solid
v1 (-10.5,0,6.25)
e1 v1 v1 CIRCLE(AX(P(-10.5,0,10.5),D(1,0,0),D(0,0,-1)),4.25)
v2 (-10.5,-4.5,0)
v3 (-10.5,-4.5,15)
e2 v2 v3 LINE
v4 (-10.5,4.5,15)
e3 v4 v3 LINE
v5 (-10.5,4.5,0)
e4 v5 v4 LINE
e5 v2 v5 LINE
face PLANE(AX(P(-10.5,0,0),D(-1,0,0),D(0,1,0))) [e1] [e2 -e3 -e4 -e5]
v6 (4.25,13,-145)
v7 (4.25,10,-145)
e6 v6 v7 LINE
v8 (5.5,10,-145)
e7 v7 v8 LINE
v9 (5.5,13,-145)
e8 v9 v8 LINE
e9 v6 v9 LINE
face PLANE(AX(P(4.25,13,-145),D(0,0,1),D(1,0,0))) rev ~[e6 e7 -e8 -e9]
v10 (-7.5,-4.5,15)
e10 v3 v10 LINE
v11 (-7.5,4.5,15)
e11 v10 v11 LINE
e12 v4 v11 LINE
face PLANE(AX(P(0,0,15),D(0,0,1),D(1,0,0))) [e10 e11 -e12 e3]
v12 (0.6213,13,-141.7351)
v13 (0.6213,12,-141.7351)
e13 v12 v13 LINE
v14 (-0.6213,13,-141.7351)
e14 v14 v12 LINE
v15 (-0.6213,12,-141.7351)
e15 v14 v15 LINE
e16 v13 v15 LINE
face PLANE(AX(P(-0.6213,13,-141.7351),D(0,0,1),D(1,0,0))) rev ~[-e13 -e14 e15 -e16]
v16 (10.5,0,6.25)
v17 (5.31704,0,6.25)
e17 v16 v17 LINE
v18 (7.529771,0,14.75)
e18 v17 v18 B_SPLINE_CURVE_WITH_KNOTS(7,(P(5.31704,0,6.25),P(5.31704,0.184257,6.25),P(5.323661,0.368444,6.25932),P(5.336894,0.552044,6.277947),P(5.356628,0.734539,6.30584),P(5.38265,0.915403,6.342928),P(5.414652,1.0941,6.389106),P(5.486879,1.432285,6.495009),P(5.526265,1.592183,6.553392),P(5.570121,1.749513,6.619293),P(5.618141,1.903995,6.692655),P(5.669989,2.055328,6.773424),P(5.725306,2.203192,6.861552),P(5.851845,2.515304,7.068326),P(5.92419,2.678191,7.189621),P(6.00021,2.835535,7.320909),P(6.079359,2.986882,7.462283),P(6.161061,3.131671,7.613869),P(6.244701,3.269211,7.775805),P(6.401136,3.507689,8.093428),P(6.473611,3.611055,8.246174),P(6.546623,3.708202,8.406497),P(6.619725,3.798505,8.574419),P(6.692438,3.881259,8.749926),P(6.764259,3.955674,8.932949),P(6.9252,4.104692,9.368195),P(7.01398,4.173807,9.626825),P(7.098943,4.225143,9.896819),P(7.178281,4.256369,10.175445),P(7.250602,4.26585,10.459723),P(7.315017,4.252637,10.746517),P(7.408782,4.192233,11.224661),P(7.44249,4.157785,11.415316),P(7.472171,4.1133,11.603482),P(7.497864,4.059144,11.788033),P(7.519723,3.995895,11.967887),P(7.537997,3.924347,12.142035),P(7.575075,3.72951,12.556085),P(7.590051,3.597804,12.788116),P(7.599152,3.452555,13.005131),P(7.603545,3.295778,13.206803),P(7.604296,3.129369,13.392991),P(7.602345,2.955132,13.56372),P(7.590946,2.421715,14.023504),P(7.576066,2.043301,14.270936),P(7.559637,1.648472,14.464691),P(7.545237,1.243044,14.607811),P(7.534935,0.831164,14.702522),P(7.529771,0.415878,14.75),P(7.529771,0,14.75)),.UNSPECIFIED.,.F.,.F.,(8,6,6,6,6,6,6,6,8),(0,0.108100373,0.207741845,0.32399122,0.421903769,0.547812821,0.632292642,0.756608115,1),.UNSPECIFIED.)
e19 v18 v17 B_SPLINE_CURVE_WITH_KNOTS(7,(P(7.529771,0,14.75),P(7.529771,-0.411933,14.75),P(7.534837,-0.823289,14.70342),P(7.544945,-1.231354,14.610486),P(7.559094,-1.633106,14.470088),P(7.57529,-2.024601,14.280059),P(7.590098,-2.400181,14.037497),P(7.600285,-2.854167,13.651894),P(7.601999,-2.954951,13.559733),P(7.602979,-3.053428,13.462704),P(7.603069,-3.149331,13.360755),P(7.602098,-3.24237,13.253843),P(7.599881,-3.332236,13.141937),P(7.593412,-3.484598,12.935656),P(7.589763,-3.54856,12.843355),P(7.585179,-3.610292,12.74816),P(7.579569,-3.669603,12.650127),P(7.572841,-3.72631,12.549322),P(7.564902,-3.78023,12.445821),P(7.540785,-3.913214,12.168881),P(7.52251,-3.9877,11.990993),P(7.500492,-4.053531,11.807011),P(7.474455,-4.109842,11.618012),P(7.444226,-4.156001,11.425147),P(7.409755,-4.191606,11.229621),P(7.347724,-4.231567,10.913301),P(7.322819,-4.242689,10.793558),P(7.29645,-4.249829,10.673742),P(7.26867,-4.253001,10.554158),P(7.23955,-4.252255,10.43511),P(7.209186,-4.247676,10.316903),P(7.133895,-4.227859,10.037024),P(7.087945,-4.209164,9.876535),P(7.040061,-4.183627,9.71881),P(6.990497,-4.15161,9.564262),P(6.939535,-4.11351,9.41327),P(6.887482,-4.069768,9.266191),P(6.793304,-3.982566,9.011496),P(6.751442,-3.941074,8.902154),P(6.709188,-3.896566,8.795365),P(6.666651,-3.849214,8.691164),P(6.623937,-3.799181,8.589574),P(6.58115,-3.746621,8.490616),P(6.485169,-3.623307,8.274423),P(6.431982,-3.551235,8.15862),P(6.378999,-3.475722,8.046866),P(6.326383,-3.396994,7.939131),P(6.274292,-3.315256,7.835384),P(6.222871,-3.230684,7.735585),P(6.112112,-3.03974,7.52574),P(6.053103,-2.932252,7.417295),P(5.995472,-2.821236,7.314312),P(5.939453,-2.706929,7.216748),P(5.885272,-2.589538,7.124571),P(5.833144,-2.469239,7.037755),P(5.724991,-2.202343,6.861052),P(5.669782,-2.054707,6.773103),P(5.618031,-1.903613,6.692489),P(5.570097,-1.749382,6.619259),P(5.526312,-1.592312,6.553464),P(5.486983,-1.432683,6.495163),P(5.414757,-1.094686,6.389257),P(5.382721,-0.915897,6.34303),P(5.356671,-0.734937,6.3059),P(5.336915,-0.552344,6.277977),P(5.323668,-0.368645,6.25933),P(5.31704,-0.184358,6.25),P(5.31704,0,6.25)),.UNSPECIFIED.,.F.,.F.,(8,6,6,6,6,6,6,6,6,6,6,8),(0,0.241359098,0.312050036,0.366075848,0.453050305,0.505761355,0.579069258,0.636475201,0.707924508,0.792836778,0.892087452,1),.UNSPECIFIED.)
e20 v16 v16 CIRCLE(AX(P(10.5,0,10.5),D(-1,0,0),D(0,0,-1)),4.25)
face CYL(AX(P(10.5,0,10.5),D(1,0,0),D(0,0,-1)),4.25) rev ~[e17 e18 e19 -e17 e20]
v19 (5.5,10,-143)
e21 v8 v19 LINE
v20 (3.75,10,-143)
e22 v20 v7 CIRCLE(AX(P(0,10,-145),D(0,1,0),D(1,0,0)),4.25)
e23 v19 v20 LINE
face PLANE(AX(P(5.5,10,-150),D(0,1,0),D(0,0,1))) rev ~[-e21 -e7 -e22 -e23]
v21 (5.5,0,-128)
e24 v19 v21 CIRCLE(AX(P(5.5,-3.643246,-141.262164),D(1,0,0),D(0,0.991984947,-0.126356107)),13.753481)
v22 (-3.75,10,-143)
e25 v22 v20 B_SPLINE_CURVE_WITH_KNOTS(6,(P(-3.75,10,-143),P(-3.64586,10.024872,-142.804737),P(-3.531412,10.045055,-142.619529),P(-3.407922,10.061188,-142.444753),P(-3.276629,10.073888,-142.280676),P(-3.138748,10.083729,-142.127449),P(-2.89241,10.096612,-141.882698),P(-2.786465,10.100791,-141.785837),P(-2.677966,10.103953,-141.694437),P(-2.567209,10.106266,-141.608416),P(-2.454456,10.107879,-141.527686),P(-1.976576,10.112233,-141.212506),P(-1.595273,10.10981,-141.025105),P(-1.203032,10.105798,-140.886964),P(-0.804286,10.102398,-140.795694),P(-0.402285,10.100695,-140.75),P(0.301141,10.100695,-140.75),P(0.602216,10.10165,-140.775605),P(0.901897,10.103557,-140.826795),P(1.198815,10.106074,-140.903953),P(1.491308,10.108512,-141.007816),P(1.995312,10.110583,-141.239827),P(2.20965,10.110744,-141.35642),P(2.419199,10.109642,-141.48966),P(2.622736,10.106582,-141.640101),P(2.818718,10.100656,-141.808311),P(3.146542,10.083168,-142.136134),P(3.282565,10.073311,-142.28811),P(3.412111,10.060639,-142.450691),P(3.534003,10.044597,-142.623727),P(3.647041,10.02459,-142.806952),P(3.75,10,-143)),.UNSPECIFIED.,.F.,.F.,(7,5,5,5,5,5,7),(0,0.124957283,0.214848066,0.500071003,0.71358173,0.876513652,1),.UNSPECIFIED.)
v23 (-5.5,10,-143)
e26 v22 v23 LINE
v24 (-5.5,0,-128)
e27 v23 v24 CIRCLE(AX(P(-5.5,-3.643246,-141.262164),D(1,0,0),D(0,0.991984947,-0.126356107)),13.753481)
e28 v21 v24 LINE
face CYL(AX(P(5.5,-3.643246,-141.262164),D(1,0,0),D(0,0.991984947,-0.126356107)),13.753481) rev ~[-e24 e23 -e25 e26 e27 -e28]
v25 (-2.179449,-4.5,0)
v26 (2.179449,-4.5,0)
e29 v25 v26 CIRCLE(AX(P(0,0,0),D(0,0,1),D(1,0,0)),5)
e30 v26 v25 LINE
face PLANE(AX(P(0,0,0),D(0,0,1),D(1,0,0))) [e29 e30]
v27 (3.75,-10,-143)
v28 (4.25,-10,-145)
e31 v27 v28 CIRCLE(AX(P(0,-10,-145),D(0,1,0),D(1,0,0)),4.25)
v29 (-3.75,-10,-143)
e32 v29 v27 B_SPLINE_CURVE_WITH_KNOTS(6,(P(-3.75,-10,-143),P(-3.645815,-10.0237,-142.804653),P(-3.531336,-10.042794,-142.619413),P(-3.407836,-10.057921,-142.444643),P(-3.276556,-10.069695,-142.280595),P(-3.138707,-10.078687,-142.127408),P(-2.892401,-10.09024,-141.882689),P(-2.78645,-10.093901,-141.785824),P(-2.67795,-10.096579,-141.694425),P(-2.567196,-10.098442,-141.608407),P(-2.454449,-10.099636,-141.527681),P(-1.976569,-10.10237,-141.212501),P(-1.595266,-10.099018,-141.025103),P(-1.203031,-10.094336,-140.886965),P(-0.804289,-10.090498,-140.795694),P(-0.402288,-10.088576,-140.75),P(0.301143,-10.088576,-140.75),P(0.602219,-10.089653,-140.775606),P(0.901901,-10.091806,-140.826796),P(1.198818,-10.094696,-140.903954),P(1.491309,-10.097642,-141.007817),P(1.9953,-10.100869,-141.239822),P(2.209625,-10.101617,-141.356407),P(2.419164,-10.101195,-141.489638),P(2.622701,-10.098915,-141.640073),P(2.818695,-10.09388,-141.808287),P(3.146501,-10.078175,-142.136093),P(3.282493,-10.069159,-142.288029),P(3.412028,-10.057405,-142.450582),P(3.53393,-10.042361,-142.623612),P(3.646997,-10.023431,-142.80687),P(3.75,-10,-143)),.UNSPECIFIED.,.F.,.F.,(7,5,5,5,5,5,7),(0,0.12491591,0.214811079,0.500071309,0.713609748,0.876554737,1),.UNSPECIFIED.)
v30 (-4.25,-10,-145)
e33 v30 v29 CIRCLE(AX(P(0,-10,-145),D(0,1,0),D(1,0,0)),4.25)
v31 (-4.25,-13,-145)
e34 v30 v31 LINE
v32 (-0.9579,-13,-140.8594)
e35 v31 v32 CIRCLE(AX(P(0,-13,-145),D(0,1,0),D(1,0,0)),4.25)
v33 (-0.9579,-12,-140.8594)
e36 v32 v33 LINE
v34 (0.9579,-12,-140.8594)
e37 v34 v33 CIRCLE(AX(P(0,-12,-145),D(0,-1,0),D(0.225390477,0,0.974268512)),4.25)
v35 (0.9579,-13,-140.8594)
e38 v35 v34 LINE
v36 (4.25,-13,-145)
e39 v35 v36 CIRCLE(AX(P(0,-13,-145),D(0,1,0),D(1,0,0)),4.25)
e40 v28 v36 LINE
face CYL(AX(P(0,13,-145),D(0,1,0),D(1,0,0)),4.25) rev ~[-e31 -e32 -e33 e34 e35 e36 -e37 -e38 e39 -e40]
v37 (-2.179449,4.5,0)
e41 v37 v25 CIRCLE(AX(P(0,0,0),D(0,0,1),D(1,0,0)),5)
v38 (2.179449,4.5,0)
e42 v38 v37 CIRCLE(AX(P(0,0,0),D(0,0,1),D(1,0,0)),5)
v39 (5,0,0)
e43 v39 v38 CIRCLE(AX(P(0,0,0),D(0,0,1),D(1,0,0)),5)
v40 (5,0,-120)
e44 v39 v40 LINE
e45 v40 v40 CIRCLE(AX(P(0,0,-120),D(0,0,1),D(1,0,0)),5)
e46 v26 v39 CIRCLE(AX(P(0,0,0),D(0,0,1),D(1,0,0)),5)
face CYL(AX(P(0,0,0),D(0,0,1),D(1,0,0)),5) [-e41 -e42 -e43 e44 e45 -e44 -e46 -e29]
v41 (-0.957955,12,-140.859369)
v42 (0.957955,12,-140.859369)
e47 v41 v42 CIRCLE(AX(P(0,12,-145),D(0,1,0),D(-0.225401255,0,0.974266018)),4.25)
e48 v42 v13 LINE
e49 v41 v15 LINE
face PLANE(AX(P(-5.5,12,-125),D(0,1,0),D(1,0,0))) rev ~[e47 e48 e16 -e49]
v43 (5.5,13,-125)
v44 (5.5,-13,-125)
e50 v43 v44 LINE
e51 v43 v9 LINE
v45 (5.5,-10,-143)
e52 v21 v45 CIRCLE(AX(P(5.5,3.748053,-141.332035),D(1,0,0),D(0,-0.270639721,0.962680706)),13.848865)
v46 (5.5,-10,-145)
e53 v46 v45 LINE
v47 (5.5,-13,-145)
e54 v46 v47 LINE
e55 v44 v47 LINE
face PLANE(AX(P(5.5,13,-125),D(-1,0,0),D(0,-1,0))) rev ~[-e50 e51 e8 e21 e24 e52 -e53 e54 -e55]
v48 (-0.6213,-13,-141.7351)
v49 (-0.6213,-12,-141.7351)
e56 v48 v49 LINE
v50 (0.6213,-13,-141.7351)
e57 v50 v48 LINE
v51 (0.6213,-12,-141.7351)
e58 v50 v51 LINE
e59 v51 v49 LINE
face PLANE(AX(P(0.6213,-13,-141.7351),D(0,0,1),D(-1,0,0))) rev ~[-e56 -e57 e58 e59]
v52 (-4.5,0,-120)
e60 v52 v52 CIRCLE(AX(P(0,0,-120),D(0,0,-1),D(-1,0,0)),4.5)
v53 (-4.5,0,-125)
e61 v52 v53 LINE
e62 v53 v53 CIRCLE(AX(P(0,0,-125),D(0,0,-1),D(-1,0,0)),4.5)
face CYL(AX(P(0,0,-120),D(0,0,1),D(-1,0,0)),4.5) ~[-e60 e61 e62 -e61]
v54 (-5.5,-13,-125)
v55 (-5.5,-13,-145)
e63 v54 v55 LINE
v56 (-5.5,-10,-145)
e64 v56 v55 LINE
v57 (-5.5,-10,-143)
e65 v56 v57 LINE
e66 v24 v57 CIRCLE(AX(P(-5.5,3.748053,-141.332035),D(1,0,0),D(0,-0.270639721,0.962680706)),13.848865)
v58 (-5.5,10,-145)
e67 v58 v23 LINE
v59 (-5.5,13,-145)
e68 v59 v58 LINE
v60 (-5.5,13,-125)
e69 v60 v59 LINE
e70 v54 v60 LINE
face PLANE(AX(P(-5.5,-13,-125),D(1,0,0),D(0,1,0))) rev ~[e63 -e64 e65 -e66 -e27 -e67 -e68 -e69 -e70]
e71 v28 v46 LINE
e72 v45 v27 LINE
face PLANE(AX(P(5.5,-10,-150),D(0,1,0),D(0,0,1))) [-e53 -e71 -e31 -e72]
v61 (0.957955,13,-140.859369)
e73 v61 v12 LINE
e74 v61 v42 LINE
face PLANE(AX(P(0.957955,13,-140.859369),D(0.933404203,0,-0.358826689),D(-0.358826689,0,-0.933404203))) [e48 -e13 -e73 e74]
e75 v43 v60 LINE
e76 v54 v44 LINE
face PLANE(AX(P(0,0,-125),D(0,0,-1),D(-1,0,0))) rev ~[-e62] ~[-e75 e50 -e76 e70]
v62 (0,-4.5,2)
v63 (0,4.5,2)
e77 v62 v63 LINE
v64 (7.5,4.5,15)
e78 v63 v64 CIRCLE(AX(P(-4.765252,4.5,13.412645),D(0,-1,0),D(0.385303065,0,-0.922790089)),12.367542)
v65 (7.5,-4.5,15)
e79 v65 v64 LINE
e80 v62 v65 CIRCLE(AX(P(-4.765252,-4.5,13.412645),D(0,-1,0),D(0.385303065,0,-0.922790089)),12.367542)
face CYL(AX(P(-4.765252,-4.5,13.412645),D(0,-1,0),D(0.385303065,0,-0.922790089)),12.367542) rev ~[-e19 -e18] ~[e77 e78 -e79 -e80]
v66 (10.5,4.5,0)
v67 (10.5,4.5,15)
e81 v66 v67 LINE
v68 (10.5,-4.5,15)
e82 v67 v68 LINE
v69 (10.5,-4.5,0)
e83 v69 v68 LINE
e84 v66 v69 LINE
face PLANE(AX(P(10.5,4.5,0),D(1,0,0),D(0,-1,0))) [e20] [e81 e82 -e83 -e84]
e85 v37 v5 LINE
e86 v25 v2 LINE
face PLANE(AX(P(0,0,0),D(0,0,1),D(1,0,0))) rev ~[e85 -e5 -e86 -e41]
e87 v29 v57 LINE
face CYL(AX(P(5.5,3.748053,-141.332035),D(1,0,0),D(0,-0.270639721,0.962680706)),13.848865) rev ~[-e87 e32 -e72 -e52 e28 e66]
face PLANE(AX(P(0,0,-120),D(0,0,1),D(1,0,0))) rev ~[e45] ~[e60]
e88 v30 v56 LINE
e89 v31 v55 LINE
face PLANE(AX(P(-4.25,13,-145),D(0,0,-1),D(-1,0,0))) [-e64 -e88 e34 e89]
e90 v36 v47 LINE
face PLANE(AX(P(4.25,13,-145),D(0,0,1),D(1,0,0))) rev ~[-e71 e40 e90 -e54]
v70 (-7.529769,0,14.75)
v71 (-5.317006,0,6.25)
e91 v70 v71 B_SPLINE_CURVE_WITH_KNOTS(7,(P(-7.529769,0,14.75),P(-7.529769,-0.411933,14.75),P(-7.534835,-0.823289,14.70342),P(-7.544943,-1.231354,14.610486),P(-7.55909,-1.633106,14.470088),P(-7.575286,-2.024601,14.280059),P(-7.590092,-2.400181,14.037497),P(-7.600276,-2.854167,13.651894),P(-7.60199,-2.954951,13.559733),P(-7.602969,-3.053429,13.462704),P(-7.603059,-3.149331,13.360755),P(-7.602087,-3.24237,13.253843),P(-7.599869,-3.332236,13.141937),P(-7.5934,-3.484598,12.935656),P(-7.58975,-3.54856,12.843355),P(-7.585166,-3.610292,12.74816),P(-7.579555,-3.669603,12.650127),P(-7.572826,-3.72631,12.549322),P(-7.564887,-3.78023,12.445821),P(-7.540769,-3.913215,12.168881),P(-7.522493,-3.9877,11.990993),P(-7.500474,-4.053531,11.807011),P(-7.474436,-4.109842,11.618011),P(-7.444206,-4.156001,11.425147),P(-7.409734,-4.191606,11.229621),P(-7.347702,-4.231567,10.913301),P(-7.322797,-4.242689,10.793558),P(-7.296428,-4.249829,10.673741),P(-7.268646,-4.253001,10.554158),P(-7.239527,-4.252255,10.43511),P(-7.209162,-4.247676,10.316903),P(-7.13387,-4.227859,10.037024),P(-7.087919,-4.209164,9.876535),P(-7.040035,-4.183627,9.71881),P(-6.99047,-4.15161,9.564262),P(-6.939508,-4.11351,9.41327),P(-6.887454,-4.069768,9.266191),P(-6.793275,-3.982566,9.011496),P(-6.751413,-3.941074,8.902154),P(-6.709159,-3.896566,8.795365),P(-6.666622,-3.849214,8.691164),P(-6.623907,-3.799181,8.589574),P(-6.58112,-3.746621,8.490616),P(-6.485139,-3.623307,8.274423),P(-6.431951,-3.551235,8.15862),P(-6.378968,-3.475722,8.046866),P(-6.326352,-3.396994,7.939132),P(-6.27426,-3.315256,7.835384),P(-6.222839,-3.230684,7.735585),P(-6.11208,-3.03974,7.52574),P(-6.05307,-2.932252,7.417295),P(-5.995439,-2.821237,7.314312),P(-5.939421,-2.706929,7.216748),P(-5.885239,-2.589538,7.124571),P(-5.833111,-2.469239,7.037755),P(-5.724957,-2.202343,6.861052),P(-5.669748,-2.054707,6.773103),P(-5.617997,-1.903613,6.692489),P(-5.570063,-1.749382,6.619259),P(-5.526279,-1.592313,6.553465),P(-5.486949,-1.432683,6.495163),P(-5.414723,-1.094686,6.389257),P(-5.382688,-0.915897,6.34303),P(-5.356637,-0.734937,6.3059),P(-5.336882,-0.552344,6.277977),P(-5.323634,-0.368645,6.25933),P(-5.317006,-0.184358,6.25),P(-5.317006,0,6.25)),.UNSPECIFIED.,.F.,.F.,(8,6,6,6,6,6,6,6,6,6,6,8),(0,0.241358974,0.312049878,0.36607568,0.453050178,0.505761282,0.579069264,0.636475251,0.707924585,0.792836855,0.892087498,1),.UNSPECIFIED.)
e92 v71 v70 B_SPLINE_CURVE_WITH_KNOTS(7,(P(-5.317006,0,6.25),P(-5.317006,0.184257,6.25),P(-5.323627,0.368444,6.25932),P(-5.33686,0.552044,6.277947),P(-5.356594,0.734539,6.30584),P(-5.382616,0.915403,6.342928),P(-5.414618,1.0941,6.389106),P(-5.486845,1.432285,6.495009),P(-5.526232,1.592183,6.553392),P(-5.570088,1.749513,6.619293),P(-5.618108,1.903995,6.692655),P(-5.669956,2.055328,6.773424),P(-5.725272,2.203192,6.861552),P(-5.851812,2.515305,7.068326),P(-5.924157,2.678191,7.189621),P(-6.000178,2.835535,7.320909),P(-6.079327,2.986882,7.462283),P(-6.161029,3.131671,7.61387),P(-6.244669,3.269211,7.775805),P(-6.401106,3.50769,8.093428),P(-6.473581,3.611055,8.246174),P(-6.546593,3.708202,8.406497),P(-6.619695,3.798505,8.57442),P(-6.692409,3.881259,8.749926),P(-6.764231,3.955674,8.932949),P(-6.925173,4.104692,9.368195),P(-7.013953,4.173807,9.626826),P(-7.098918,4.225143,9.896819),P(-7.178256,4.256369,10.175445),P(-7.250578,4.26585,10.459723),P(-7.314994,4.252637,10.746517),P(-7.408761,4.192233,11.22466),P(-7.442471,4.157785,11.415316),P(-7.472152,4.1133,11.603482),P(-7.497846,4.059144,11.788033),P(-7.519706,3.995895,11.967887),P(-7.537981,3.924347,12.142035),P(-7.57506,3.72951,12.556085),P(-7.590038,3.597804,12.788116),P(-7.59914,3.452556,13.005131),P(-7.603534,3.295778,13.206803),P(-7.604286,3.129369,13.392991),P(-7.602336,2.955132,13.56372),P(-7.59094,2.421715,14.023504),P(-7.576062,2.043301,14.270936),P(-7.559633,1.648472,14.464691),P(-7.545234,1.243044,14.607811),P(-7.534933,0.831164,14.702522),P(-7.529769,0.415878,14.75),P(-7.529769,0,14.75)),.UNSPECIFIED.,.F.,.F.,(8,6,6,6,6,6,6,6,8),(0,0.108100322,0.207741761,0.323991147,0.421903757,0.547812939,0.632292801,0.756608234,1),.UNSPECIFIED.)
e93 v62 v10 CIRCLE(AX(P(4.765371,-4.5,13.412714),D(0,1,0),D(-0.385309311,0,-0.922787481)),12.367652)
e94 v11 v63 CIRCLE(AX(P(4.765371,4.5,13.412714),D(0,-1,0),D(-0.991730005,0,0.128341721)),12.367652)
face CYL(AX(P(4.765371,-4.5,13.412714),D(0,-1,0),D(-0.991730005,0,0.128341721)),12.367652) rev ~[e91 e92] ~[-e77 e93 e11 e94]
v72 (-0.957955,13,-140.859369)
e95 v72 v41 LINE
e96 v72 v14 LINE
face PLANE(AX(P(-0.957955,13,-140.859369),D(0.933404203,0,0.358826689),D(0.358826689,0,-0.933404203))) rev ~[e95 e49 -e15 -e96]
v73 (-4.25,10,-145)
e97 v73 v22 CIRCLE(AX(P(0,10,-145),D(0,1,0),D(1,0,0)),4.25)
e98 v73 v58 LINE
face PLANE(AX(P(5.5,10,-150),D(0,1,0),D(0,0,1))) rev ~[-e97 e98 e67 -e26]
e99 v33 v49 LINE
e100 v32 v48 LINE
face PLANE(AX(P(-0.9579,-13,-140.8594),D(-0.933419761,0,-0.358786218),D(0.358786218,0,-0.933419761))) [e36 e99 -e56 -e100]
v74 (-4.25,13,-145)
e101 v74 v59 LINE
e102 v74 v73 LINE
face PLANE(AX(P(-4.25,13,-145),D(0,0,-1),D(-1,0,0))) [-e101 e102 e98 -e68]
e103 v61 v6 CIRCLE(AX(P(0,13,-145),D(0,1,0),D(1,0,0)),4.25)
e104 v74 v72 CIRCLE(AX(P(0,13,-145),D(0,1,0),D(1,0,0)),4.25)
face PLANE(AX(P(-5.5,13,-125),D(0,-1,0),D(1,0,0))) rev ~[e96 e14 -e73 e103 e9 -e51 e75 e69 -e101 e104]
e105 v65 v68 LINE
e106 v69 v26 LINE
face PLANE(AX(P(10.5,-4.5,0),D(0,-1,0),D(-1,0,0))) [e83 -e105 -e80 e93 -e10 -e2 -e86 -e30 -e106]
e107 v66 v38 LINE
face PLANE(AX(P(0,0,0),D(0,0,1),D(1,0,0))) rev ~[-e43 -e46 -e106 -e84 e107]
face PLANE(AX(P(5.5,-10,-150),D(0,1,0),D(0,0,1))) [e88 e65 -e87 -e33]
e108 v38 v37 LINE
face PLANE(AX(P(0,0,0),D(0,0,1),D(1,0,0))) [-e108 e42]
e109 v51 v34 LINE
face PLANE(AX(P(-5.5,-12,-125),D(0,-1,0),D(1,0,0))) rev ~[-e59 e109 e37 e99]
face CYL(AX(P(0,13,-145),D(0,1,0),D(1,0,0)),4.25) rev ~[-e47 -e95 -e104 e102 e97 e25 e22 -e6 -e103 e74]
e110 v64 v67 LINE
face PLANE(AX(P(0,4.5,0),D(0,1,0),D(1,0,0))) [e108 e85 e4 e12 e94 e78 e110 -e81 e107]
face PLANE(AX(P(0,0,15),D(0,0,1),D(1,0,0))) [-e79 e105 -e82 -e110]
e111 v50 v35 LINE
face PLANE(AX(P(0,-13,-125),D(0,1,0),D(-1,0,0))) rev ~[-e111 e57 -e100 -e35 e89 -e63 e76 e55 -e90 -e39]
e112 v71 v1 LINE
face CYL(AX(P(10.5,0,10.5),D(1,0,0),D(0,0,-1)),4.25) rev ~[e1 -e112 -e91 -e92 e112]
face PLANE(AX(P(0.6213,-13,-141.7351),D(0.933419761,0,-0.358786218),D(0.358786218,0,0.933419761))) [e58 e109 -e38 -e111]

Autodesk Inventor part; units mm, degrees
ref_plane "YZ Plane" through (0, 0, 0) normal (1, 0, 0) x (0, 1, 0)
ref_plane "XZ Plane" through (0, 0, 0) normal (0, 1, 0) x (-1, 0, 0)
ref_plane "XY Plane" through (0, 0, 0) normal (0, 0, 1) x (1, 0, 0)
sketch "Sketch1" plane through (0, 0, 0) normal (0, 0, 1) x (1, 0, 0)
  circle A0 centre (0, 0) radius 5
  dimension "d0" = 10
extrude "Extrusion1" add sketch "Sketch1" against normal blind 120
sketch "Sketch2" plane through (0, 0, -120) normal (0, 0, -1) x (-1, 0, 0)
  circle A0 centre (0, 0) radius 4.5
  dimension "d3" = 9
extrude "Extrusion2" add sketch "Sketch2" along normal blind 5
sketch "Sketch3" plane through (0, 0, 0) normal (0, 0, 1) x (1, 0, 0)
  circle A0 centre (0, 0) radius 5 projected
  line L0 (0, 0) -> (10, 0)
  line L1 (10, 0) -> (-10.5, 0)
  line L2 (0, 0) -> (0, 4.5)
  line L3 (0, 4.5) -> (0, -4.5)
  line L4 (0, -4.5) -> (-10.5, -4.5)
  line L5 (-10.5, -4.5) -> (-10.5, 0)
  line L6 (-10.5, 0) -> (-10.5, 4.5)
  line L7 (-10.5, 4.5) -> (0, 4.5)
  line L8 (0, 4.5) -> (10.5, 4.5)
  line L9 (10.5, 4.5) -> (10.5, -4.5)
  line L10 (10.5, -4.5) -> (0, -4.5)
  dimension "d8" = 4.5
  dimension "d50" = 10.5
  dimension "d52" = 10.5
  dimension "d53" = 4.5
extrude "Extrusion3" add sketch "Sketch3" along normal blind 15 contours L0 L2 L8 A0 | A0 L8 L9 L10 | A0 L10 L3 L0 | L3 L4 A0 L1 | L1 A0 L7 L2 | A0 L1 L6 L7 | L4 L5 L1 A0
sketch "Sketch4" plane through (-10.5, -4.5, 0) normal (0, -1, 0) x (1, 0, 0)
  line L0 (0, 0) -> (8.3206, 0) projected
  line L1 (12.6794, 0) -> (8.3206, 0) projected
  line L2 (12.6794, 0) -> (21, 0) projected
  line L3 (21, 0) -> (21, 15) projected
  line L4 (0, 15) -> (21, 15) projected
  line L5 (0, 0) -> (0, 15) projected
  line L6 (10.5, 0) -> (10.5, 2)
  line L7 (0, 15) -> (21, 15) projected
  line L8 (0, 15) -> (3, 15)
  line L9 (21, 15) -> (18, 15)
  arc A0 (3, 15) -> (10.5, 2) centre (15.2653, 13.4127) ccw
  line L10 (10.5, 2) -> (10.5, 15)
  line L11 (4.5527, 7.2323) -> (0, 7.2323)
  line L12 (0, 0) -> (0, 15) projected
  line L13 (4.5527, 7.2323) -> (4.5527, 0)
  line L14 (16.4473, 7.2323) -> (21, 7.2323)
  line L15 (16.4473, 7.2323) -> (16.4473, 0)
  arc A1 (10.5, 2) -> (18, 15) centre (5.7347, 13.4127) ccw
  dimension "d12" = 2
  dimension "d13" = 3
  dimension "d14" = 3
extrude "Extrusion4" cut sketch "Sketch4" against normal blind 15 contours A0 L4 L10 | L10 L4 A1
sketch "Sketch5" plane through (10.5, -4.5, 0) normal (1, 0, 0) x (0, 0, -1)
  line L0 (0, 0) -> (0, 9) projected
  line L1 (0, 9) -> (-15, 9) projected
  line L2 (-15, 0) -> (-15, 9) projected
  line L3 (0, 0) -> (-15, 0) projected
  line L4 (-15, 0) -> (-15, 9) projected
  line L5 (-15, 4.5) -> (-10.5, 4.5)
  line L6 (0, 9) -> (0, 0) projected
  circle A0 centre (-10.5, 4.5) radius 4.25
  point P0 (0, 4.5)
  dimension "d19" = 4.5
  dimension "d20" = 8.5
extrude "Extrusion5" cut sketch "Sketch5" against normal blind 37.25 contours A0
sketch "Sketch6" plane through (0, 0, -125) normal (0, 0, -1) x (-1, 0, 0)
  circle A0 centre (0, 0) radius 4.5 projected
  line L0 (0, 0) -> (0, 13)
  line L1 (0, -4.5) -> (0, 4.5) projected
  line L2 (0, 13) -> (0, -13)
  line L3 (0, -13) -> (-5.5, -13)
  line L4 (-5.5, -13) -> (5.5, -13)
  line L5 (5.5, -13) -> (5.5, 13)
  line L6 (5.5, 13) -> (-5.5, 13)
  line L7 (-5.5, 13) -> (-5.5, -13)
  dimension "d23" = 13
  dimension "d24" = 26
  dimension "d25" = 5.5
  dimension "d26" = 11
extrude "Extrusion6" add sketch "Sketch6" along normal blind 25
sketch "Sketch7" plane through (5.5, -13, -125) normal (1, 0, 0) x (0, 0, -1)
  line L0 (0, 26) -> (0, 0) projected
  line L1 (0, 0) -> (25, 0) projected
  line L2 (25, 26) -> (25, 0) projected
  line L3 (0, 26) -> (25, 26) projected
  line L4 (25, 26) -> (25, 0) projected
  line L5 (25, 26) -> (25, 23)
  line L6 (25, 0) -> (25, 3)
  line L7 (25, 23) -> (18, 23)
  line L8 (0, 8.5) -> (0, 17.5) projected
  line L9 (0, 13) -> (3, 13)
  arc A0 (18, 23) -> (3, 13) centre (16.2622, 9.3566) ccw
  line L10 (25, 3) -> (18, 3)
  line L11 (18, 3) -> (18, 23)
  arc A1 (3, 13) -> (18, 3) centre (16.3321, 16.7481) ccw
  point P0 (-125, 13)
  dimension "d29" = 3
  dimension "d30" = 3
  dimension "d32" = 7
  dimension "d33" = 3
extrude "Extrusion7" cut sketch "Sketch7" against normal blind 25 contours L2 L10 L11 L7 | A0 L11 A1
sketch "Sketch8" plane through (-5.5, 13, -125) normal (0, 1, 0) x (1, 0, 0)
  line L0 (0, 0) -> (11, 0) projected
  line L1 (11, 0) -> (11, 25) projected
  line L2 (0, 25) -> (11, 25) projected
  line L3 (0, 0) -> (0, 25) projected
  line L4 (5.5, 25) -> (5.5, 20)
  circle A0 centre (5.5, 20) radius 4.25
  line L5 (1.25, 20) -> (0, 20)
  line L6 (0, 18) -> (0, 25) projected
  line L7 (9.75, 20) -> (11, 20)
  line L8 (11, 25) -> (11, 18) projected
  point P0 (5.5, -125)
  dimension "d36" = 5
  dimension "d37" = 8.5
extrude "Extrusion8" cut sketch "Sketch8" against normal blind 30 contours L3 L2 L4 A0 L5 | L7 A0 L4 L2 L1 | A0
sketch "Sketch9" plane through (-5.5, 13, -125) normal (0, 1, 0) x (1, 0, 0)
  line L0 (1.25, 20) -> (0, 20) projected
  line L1 (0, 0) -> (0, 20) projected
  line L2 (0, 0) -> (11, 0) projected
  line L3 (11, 0) -> (11, 20) projected
  line L4 (11, 20) -> (9.75, 20) projected
  arc A0 (1.25, 20) -> (9.75, 20) centre (5.5, 20) ccw projected
  arc A1 (1.25, 20) -> (9.75, 20) centre (5.5, 20) ccw projected
  line L5 (5.5, 15.75) -> (5, 15.75)
  line L6 (5, 15.75) -> (4.5, 15.75)
  line L7 (4.5, 15.75) -> (6.5, 15.75)
  line L8 (6.5, 15.75) -> (6.1213, 16.7351)
  line L9 (6.1213, 16.7351) -> (5.5, 16.7351)
  line L10 (5.5, 16.7351) -> (5.5, 15.75)
  line L11 (4.5, 15.75) -> (4.8787, 16.7351)
  line L12 (4.8787, 16.7351) -> (5.5, 16.7351)
  line L13 (0, 20) -> (1.25, 20) projected
  arc A2 (1.25, 20) -> (9.75, 20) centre (5.5, 20) ccw projected
  line L14 (9.75, 20) -> (11, 20) projected
  line L15 (11, 0) -> (11, 20) projected
  line L16 (11, 0) -> (0, 0) projected
  line L17 (0, 0) -> (0, 20) projected
  point P0 (5.5, -125)
  point P1 (4.5421, 15.8594)
  point P2 (6.4579, 15.8594)
  dimension "d40" = 0.5
  dimension "d41" = 0.5
  dimension "d42" = 2
extrude "Extrusion9" add sketch "Sketch9" against normal blind 1 contours L11 L12 L10 A0 | L10 L9 L8 A0
sketch "Sketch10" plane through (-5.5, -13, -125) normal (0, -1, 0) x (1, 0, 0)
  line L0 (0, -20) -> (1.25, -20) projected
  arc A0 (9.75, -20) -> (1.25, -20) centre (5.5, -20) ccw projected
  line L1 (9.75, -20) -> (11, -20) projected
  line L2 (11, 0) -> (11, -20) projected
  line L3 (11, 0) -> (0, 0) projected
  line L4 (0, 0) -> (0, -20) projected
  arc A1 (6.4579, -15.8594) -> (4.5421, -15.8594) centre (5.5, -20) ccw projected
  line L5 (5.5, -15.75) -> (4.5, -15.75)
  line L6 (4.5, -15.75) -> (6.5, -15.75)
  line L7 (6.1213, -16.7351) -> (6.4579, -15.8594) projected
  line L8 (6.5, -15.75) -> (6.1213, -16.7351)
  line L9 (4.5421, -15.8594) -> (4.8787, -16.7351) projected
  line L10 (6.1213, -16.7351) -> (4.8787, -16.7351)
  line L11 (4.8787, -16.7351) -> (4.5, -15.75)
  point P0 (5.5, 125)
  dimension "d45" = 1
  dimension "d46" = 2
extrude "Extrusion10" add sketch "Sketch10" against normal blind 1 contours A0 L7 L10 L9
